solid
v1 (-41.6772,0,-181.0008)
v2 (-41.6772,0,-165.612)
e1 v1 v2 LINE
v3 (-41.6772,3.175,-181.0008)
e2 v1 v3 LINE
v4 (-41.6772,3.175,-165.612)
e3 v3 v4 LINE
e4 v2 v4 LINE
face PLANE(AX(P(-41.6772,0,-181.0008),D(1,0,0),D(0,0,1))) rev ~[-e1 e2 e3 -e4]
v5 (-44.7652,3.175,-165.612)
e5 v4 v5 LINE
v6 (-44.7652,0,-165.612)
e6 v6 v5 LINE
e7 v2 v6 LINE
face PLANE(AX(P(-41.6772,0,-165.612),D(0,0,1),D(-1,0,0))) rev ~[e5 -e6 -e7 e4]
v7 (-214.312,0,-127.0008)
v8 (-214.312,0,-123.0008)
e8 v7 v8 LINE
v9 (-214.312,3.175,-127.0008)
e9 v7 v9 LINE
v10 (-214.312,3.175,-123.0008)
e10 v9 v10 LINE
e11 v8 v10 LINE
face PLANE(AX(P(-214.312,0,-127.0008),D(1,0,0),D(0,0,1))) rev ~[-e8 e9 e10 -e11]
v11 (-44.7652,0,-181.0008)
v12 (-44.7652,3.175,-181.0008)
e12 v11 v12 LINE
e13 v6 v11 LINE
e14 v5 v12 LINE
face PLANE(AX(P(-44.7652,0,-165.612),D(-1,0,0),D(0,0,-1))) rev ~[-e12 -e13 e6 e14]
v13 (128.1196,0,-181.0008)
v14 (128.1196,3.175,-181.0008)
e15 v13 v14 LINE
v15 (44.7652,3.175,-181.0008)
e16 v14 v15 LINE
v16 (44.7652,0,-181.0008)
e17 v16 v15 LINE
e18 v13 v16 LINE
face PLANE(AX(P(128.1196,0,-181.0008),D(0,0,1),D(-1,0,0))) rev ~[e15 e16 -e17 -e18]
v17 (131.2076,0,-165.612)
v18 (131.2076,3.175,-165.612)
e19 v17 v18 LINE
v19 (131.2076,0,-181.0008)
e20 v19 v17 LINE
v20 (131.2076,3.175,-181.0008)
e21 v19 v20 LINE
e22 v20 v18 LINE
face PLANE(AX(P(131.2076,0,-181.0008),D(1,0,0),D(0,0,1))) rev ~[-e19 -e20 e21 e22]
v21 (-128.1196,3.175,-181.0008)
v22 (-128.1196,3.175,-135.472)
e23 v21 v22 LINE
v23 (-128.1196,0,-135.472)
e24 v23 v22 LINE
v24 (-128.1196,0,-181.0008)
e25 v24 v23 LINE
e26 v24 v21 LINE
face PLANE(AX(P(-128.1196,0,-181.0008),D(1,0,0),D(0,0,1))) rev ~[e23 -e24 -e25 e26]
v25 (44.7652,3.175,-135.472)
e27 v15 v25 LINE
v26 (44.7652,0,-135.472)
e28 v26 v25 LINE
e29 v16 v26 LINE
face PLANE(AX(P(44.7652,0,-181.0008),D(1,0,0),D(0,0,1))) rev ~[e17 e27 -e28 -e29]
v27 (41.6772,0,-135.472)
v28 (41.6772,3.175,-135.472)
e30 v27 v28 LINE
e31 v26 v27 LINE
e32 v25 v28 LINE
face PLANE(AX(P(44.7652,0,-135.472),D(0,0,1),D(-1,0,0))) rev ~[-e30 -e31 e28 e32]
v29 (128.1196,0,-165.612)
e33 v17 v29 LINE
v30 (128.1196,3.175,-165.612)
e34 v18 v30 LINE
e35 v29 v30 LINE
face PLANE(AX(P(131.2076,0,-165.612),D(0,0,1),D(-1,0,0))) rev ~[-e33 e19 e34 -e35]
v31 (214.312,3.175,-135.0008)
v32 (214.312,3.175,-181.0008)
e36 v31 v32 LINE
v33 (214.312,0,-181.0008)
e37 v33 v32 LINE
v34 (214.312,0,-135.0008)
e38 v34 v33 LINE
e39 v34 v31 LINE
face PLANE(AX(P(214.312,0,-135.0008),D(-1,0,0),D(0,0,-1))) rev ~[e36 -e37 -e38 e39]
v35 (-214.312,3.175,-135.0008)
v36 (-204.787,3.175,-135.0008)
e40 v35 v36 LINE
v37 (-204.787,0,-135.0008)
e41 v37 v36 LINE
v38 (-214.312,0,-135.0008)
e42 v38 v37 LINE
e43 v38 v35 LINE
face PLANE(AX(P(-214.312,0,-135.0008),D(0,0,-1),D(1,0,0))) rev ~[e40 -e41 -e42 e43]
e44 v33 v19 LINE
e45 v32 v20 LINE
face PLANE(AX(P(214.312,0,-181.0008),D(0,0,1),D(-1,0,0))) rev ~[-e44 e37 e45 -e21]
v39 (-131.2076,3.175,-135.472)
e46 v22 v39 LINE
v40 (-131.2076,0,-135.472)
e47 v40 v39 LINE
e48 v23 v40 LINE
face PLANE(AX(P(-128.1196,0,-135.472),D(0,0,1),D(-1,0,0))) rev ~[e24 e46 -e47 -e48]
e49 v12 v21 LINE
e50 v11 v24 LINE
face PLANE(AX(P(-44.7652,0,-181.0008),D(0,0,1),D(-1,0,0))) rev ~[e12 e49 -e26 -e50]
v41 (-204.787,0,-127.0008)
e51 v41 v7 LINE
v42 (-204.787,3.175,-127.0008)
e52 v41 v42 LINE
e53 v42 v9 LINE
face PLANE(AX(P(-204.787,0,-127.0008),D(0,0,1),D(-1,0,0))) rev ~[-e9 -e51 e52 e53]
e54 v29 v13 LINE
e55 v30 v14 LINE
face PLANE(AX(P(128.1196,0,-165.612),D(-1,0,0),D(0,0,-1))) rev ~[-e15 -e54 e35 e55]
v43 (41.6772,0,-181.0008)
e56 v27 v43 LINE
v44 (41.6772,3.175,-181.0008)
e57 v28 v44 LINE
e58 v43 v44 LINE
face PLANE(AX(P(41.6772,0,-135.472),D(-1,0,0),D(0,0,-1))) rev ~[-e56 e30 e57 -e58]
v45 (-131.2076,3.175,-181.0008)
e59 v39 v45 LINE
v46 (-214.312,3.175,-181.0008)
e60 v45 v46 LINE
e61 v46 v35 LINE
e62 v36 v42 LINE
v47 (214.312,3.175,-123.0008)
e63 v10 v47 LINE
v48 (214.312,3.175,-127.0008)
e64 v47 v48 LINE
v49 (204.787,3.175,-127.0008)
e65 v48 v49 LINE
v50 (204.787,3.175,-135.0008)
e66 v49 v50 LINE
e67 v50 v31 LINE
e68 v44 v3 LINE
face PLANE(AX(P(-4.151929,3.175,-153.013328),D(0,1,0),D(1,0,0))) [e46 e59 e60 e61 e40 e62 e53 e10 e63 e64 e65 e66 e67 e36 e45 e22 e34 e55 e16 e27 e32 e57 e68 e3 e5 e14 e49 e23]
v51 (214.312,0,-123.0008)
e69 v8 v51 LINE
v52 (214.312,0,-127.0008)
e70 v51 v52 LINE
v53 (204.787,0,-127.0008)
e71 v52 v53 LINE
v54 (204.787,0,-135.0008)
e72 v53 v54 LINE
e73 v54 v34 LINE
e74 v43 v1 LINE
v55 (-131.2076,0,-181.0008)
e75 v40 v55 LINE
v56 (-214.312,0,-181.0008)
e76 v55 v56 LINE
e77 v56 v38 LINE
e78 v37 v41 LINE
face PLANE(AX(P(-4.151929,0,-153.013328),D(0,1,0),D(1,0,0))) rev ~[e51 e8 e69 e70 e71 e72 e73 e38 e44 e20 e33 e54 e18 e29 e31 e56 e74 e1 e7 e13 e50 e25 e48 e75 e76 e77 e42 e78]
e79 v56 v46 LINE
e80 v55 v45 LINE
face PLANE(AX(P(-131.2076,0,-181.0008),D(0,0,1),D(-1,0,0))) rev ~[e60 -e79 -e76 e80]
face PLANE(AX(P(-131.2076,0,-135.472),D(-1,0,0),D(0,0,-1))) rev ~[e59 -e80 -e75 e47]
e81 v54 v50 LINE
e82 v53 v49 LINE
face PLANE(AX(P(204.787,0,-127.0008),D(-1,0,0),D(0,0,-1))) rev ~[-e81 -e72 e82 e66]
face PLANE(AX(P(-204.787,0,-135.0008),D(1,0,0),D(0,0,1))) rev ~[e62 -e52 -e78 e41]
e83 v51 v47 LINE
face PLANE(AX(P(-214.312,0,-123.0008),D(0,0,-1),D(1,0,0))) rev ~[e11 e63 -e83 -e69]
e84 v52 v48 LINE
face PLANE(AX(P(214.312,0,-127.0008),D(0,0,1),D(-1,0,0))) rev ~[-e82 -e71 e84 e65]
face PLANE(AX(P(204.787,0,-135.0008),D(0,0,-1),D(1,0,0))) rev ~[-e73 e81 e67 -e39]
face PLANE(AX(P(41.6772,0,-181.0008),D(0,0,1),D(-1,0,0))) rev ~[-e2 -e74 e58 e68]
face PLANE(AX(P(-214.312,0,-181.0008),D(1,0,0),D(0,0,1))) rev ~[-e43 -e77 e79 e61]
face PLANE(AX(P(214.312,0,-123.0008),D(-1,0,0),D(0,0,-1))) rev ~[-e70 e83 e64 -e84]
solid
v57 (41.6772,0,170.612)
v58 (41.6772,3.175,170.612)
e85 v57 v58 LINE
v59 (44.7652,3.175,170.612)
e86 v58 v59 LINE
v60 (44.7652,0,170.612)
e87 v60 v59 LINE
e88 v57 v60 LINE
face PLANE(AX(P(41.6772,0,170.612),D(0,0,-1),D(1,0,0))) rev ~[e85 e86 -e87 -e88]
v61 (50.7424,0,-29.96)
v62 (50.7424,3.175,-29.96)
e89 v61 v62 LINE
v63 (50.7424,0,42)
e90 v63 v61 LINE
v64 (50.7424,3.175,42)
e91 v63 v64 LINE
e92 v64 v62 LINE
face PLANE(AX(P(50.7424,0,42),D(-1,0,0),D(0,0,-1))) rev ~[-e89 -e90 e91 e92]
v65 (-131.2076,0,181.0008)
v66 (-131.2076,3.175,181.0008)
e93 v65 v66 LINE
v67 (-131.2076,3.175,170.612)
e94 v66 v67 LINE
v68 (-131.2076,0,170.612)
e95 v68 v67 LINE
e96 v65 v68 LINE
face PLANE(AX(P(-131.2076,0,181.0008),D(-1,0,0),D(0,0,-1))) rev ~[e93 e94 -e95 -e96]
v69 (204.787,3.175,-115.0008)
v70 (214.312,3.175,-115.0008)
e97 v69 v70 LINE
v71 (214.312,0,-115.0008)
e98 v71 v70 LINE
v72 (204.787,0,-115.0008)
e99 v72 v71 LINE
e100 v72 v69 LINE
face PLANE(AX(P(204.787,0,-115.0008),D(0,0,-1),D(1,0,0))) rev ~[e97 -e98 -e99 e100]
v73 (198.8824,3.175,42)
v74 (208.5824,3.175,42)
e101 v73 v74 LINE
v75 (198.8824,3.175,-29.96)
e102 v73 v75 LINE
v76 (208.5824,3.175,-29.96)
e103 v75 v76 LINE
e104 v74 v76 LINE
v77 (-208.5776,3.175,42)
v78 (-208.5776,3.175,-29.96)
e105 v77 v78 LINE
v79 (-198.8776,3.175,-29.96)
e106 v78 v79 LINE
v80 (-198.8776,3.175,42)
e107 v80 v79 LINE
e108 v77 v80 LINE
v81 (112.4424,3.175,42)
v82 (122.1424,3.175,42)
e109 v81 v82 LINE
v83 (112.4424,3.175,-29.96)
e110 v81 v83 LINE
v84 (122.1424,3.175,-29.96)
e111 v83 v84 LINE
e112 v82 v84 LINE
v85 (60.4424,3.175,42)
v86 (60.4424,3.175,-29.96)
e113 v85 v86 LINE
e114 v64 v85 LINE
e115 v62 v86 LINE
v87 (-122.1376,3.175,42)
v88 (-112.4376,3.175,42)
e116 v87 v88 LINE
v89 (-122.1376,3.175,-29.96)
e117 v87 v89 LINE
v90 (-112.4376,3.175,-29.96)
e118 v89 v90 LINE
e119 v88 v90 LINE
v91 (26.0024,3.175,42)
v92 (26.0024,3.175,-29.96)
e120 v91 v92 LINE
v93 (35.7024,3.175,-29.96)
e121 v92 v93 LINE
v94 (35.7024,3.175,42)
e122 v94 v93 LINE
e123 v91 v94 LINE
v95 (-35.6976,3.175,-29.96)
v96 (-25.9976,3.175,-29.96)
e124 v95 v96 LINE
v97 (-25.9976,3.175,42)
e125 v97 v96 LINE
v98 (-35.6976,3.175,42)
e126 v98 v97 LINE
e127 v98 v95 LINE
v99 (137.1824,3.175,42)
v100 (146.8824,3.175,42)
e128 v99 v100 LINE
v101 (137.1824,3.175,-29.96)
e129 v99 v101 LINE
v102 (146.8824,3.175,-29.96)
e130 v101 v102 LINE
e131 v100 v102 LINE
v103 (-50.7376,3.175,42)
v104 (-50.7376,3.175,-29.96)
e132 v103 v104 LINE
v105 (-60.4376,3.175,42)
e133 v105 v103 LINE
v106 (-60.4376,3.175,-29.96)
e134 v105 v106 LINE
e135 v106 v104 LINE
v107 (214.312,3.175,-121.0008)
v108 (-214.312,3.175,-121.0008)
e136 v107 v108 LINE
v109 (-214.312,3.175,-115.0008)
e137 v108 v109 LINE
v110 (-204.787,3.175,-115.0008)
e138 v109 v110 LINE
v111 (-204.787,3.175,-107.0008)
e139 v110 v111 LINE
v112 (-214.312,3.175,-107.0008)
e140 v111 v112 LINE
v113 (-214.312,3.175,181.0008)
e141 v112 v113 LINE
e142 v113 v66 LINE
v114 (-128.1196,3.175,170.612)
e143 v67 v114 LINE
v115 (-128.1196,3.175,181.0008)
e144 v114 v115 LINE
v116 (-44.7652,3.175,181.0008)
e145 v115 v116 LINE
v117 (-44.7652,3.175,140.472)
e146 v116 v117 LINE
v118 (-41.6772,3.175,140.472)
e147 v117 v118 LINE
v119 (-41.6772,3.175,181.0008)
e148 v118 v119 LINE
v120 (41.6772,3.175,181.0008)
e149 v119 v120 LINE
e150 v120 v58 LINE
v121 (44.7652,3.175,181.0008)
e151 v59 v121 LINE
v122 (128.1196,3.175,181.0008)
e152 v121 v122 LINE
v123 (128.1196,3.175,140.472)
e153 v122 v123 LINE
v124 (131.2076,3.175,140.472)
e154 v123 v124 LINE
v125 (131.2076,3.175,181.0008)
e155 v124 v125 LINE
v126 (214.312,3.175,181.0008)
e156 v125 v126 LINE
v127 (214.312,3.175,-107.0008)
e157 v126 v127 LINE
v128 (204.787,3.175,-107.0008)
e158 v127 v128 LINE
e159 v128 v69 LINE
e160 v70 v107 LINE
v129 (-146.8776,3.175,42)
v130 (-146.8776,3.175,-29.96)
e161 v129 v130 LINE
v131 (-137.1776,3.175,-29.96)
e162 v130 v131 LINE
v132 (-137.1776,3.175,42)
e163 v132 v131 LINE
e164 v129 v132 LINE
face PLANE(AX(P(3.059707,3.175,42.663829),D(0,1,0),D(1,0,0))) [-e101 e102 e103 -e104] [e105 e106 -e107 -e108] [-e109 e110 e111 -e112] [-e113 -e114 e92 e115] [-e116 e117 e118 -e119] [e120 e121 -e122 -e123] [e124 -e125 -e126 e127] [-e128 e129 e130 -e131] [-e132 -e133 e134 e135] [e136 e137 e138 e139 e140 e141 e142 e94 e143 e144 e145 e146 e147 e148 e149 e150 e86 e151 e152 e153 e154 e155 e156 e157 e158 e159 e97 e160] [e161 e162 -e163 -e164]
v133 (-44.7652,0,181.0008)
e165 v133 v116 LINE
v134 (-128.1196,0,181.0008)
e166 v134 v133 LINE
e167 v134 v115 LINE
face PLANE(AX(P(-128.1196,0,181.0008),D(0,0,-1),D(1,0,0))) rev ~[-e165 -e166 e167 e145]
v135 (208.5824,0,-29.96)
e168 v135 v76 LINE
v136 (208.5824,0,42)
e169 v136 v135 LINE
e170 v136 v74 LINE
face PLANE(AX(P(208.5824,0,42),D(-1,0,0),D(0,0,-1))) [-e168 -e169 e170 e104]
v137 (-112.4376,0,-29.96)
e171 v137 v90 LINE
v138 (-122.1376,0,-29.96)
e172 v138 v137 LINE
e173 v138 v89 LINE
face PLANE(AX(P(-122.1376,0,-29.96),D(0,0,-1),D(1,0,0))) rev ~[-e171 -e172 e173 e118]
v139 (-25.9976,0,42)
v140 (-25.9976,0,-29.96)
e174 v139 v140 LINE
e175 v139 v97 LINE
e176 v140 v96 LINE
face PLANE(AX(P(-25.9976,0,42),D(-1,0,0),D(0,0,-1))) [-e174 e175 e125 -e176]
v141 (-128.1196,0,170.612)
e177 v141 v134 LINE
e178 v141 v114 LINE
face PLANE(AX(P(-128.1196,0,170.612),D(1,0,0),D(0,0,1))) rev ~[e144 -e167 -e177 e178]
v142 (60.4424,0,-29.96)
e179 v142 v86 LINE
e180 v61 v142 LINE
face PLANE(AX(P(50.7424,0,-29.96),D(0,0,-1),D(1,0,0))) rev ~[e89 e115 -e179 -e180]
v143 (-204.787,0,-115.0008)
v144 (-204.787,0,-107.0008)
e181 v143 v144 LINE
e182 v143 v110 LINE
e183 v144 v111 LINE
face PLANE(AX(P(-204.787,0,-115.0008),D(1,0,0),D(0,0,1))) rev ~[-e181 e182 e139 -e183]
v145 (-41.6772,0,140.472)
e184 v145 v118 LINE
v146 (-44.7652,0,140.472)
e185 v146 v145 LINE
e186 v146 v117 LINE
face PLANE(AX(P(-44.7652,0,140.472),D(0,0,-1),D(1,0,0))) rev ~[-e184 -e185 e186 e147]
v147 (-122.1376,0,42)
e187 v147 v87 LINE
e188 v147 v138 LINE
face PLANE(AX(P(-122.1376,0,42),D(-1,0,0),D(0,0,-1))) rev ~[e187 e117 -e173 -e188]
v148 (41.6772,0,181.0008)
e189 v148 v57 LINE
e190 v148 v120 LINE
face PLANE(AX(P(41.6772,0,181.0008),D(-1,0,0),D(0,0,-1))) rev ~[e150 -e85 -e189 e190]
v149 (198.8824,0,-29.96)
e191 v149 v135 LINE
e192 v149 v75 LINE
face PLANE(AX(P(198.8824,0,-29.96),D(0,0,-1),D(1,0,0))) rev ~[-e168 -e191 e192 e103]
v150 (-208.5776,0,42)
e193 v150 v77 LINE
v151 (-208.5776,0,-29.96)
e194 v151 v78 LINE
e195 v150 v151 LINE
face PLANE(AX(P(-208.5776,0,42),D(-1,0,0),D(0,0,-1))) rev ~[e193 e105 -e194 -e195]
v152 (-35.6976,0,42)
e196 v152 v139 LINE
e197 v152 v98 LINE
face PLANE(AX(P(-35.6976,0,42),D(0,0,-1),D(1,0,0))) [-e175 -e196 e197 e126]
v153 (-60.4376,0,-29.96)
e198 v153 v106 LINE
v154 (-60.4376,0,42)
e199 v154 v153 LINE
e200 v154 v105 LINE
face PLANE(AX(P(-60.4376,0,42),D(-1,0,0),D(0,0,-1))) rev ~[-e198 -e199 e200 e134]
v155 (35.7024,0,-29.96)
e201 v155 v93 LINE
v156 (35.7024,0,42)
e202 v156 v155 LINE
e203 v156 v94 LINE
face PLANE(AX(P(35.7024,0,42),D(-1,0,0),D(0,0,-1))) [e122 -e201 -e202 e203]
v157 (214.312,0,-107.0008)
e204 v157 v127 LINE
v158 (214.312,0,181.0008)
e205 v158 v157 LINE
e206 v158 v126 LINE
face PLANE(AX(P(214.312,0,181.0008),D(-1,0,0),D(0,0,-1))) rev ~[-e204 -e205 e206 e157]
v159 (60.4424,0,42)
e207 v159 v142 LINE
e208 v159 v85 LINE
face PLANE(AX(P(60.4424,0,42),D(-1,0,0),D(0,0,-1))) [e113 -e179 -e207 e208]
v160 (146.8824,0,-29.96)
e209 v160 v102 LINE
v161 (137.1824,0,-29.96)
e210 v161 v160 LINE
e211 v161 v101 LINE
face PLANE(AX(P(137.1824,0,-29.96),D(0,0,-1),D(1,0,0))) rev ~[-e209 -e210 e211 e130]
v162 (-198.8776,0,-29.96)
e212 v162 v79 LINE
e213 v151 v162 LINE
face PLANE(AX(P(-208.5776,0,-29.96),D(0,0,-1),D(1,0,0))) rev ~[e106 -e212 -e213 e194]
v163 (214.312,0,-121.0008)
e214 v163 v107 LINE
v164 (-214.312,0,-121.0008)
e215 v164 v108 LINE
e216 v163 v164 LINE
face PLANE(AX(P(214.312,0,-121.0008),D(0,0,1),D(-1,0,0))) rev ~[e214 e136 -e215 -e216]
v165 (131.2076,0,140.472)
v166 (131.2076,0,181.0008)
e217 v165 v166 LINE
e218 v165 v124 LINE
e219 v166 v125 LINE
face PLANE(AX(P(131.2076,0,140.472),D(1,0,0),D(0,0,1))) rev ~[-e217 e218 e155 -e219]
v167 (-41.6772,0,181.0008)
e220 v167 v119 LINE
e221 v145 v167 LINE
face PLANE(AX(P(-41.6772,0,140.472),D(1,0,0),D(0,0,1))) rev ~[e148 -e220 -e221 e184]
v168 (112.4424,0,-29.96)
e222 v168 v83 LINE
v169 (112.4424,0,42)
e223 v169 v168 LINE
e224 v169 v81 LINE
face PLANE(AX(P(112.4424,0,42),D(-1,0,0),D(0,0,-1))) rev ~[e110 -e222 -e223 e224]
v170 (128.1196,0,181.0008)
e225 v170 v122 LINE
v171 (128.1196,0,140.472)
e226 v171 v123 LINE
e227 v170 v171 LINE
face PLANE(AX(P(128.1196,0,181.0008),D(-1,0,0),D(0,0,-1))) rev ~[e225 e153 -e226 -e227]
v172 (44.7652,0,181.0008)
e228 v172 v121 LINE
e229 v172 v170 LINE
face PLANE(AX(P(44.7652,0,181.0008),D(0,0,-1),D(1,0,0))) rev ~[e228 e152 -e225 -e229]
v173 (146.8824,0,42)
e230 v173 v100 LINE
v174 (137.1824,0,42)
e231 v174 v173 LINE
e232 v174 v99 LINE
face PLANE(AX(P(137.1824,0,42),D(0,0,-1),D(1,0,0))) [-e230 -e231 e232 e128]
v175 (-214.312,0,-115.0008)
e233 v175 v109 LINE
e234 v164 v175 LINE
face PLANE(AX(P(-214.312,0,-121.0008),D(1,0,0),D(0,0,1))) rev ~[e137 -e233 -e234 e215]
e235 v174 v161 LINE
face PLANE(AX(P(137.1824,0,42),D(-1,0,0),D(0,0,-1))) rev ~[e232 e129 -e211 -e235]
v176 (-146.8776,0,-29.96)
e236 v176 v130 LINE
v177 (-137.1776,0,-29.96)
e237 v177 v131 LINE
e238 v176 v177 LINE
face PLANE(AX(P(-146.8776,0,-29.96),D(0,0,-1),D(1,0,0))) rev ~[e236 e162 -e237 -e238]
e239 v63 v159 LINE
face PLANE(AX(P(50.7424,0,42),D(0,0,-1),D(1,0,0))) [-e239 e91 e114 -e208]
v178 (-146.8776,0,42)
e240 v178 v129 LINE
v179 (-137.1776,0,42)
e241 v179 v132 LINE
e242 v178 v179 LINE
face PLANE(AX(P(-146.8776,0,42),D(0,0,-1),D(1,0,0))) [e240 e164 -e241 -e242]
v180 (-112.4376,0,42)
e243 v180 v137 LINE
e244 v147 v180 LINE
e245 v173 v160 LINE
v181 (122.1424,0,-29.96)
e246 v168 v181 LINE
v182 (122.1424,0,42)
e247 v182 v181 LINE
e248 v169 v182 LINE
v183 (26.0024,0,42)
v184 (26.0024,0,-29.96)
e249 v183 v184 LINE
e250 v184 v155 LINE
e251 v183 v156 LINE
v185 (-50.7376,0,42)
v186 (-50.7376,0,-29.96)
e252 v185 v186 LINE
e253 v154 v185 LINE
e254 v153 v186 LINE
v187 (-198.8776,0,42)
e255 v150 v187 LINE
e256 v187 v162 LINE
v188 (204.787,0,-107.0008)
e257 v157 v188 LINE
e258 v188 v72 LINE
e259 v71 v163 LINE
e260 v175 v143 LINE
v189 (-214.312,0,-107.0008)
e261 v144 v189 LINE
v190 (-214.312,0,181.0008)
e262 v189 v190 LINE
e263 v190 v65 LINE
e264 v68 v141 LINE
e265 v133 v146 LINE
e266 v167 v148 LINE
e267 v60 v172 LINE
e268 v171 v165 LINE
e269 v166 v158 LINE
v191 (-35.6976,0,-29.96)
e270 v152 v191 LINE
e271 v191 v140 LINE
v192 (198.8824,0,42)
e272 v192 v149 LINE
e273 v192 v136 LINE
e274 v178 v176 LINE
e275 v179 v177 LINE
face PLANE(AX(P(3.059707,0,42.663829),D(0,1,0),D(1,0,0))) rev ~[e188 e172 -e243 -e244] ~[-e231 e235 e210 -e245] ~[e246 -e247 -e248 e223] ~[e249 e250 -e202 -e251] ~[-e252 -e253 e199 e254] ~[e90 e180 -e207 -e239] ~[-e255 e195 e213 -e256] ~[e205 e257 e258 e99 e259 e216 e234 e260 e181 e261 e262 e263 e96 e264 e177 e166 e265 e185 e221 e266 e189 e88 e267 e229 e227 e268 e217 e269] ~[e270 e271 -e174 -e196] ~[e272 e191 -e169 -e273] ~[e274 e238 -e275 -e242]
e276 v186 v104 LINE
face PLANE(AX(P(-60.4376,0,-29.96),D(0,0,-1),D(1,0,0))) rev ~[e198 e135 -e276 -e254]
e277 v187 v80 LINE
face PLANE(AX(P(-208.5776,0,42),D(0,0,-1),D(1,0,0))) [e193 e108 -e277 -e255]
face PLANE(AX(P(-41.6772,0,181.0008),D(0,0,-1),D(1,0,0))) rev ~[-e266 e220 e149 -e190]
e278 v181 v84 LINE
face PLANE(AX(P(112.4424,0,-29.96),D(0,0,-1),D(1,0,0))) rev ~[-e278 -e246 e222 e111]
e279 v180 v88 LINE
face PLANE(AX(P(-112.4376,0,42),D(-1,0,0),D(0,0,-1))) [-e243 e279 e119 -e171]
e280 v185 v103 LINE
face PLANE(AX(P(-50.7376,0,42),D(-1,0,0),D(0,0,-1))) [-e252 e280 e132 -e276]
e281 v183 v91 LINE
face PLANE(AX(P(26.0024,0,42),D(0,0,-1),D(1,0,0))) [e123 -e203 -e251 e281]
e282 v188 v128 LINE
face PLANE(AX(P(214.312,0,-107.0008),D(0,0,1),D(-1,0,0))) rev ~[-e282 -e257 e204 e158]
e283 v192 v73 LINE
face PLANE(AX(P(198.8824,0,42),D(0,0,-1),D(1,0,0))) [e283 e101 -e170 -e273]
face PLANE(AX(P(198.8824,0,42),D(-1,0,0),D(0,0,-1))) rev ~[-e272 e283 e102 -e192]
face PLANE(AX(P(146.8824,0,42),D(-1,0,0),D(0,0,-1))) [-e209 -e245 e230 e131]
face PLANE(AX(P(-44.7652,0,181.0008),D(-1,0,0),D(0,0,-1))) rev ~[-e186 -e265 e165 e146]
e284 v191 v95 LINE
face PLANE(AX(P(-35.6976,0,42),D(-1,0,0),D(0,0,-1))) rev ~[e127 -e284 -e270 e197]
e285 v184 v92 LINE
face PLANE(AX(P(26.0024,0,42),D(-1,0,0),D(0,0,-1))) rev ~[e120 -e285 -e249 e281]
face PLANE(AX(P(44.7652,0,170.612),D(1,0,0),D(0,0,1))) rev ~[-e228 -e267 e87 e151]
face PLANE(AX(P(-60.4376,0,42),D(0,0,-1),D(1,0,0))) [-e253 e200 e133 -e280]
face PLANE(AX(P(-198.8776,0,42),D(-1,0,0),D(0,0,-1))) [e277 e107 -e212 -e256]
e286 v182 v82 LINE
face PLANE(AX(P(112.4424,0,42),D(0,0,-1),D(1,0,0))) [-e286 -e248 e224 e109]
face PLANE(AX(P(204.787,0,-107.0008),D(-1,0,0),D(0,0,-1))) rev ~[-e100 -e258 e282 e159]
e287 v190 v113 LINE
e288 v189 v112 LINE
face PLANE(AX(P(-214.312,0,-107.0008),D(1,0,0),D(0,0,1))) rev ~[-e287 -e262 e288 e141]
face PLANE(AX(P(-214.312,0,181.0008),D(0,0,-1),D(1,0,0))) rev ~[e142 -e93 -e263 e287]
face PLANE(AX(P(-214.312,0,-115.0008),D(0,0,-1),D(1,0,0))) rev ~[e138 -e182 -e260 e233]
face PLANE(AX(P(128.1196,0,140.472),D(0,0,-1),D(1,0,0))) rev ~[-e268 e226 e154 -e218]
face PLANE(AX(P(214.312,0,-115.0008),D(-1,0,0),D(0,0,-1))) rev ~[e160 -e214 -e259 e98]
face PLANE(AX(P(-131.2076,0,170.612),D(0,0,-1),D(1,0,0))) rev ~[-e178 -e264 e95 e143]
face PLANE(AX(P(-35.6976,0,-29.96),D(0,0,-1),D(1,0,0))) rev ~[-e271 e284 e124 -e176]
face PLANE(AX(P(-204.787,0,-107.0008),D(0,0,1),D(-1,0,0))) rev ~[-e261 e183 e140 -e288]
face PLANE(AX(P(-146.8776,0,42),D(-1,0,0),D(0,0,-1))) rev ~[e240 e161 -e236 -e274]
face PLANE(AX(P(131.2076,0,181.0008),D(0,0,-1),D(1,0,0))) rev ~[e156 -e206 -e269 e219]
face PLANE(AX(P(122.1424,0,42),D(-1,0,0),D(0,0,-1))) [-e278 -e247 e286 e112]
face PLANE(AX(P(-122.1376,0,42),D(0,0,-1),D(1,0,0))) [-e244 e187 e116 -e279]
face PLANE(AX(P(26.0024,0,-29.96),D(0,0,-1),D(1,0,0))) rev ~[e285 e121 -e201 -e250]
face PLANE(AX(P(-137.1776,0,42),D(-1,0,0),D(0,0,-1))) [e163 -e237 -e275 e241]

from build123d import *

# Parameters (mm, degrees)
SKETCH1_W           = 9.7
SKETCH1_H           = 71.96
BOSS_EXTRUDE1_DEPTH = 3.175
BOSS_EXTRUDE2_DEPTH = 3.175


with BuildPart() as part:
    # Sketch1 → Boss-Extrude1 (new body)
    with BuildSketch(Plane(origin=(0, 0, 0), x_dir=(1, 0, 0), z_dir=(0, 1, 0))):
        Polygon((-214.312, 121.0008), (-214.312, 115.0008), (-204.787, 115.0008), (-204.787, 107.0008), (-214.312, 107.0008), (-214.312, -181.0008), (-131.2076, -181.0008), (-131.2076, -170.612), (-128.1196, -170.612), (-128.1196, -181.0008), (-44.7652, -181.0008), (-44.7652, -140.472), (-41.6772, -140.472), (-41.6772, -181.0008), (41.6772, -181.0008), (41.6772, -170.612), (44.7652, -170.612), (44.7652, -181.0008), (128.1196, -181.0008), (128.1196, -140.472), (131.2076, -140.472), (131.2076, -181.0008), (214.312, -181.0008), (214.312, 107.0008), (204.787, 107.0008), (204.787, 115.0008), (214.312, 115.0008), (214.312, 121.0008), align=None)
        with Locations((-117.2876, -6.02)):
            Rectangle(SKETCH1_W, SKETCH1_H, mode=Mode.SUBTRACT)
        with Locations((-55.5876, -6.02)):
            Rectangle(SKETCH1_W, SKETCH1_H, mode=Mode.SUBTRACT)
        with Locations((-142.0276, -6.02)):
            Rectangle(SKETCH1_W, SKETCH1_H, mode=Mode.SUBTRACT)
        with Locations((-203.7276, -6.02)):
            Rectangle(SKETCH1_W, SKETCH1_H, mode=Mode.SUBTRACT)
        with Locations((30.8524, -6.02)):
            Rectangle(SKETCH1_W, SKETCH1_H, mode=Mode.SUBTRACT)
        with Locations((-30.8476, -6.02)):
            Rectangle(SKETCH1_W, SKETCH1_H, mode=Mode.SUBTRACT)
        with Locations((117.2924, -6.02)):
            Rectangle(SKETCH1_W, SKETCH1_H, mode=Mode.SUBTRACT)
        with Locations((55.5924, -6.02)):
            Rectangle(SKETCH1_W, SKETCH1_H, mode=Mode.SUBTRACT)
        with Locations((203.7324, -6.02)):
            Rectangle(SKETCH1_W, SKETCH1_H, mode=Mode.SUBTRACT)
        with Locations((142.0324, -6.02)):
            Rectangle(SKETCH1_W, SKETCH1_H, mode=Mode.SUBTRACT)
    extrude(amount=BOSS_EXTRUDE1_DEPTH)


with BuildPart() as body_2:
    # Sketch1<4> → Boss-Extrude2 (new body)
    with BuildSketch(Plane(origin=(0, 0, 0), x_dir=(1, 0, 0), z_dir=(0, 1, 0))):
        Polygon((-128.1196, 135.472), (-131.2076, 135.472), (-131.2076, 181.0008), (-214.312, 181.0008), (-214.312, 135.0008), (-204.787, 135.0008), (-204.787, 127.0008), (-214.312, 127.0008), (-214.312, 123.0008), (214.312, 123.0008), (214.312, 127.0008), (204.787, 127.0008), (204.787, 135.0008), (214.312, 135.0008), (214.312, 181.0008), (131.2076, 181.0008), (131.2076, 165.612), (128.1196, 165.612), (128.1196, 181.0008), (44.7652, 181.0008), (44.7652, 135.472), (41.6772, 135.472), (41.6772, 181.0008), (-41.6772, 181.0008), (-41.6772, 165.612), (-44.7652, 165.612), (-44.7652, 181.0008), (-128.1196, 181.0008), align=None)
    extrude(amount=BOSS_EXTRUDE2_DEPTH)


solid = Compound([part.part, body_2.part])
